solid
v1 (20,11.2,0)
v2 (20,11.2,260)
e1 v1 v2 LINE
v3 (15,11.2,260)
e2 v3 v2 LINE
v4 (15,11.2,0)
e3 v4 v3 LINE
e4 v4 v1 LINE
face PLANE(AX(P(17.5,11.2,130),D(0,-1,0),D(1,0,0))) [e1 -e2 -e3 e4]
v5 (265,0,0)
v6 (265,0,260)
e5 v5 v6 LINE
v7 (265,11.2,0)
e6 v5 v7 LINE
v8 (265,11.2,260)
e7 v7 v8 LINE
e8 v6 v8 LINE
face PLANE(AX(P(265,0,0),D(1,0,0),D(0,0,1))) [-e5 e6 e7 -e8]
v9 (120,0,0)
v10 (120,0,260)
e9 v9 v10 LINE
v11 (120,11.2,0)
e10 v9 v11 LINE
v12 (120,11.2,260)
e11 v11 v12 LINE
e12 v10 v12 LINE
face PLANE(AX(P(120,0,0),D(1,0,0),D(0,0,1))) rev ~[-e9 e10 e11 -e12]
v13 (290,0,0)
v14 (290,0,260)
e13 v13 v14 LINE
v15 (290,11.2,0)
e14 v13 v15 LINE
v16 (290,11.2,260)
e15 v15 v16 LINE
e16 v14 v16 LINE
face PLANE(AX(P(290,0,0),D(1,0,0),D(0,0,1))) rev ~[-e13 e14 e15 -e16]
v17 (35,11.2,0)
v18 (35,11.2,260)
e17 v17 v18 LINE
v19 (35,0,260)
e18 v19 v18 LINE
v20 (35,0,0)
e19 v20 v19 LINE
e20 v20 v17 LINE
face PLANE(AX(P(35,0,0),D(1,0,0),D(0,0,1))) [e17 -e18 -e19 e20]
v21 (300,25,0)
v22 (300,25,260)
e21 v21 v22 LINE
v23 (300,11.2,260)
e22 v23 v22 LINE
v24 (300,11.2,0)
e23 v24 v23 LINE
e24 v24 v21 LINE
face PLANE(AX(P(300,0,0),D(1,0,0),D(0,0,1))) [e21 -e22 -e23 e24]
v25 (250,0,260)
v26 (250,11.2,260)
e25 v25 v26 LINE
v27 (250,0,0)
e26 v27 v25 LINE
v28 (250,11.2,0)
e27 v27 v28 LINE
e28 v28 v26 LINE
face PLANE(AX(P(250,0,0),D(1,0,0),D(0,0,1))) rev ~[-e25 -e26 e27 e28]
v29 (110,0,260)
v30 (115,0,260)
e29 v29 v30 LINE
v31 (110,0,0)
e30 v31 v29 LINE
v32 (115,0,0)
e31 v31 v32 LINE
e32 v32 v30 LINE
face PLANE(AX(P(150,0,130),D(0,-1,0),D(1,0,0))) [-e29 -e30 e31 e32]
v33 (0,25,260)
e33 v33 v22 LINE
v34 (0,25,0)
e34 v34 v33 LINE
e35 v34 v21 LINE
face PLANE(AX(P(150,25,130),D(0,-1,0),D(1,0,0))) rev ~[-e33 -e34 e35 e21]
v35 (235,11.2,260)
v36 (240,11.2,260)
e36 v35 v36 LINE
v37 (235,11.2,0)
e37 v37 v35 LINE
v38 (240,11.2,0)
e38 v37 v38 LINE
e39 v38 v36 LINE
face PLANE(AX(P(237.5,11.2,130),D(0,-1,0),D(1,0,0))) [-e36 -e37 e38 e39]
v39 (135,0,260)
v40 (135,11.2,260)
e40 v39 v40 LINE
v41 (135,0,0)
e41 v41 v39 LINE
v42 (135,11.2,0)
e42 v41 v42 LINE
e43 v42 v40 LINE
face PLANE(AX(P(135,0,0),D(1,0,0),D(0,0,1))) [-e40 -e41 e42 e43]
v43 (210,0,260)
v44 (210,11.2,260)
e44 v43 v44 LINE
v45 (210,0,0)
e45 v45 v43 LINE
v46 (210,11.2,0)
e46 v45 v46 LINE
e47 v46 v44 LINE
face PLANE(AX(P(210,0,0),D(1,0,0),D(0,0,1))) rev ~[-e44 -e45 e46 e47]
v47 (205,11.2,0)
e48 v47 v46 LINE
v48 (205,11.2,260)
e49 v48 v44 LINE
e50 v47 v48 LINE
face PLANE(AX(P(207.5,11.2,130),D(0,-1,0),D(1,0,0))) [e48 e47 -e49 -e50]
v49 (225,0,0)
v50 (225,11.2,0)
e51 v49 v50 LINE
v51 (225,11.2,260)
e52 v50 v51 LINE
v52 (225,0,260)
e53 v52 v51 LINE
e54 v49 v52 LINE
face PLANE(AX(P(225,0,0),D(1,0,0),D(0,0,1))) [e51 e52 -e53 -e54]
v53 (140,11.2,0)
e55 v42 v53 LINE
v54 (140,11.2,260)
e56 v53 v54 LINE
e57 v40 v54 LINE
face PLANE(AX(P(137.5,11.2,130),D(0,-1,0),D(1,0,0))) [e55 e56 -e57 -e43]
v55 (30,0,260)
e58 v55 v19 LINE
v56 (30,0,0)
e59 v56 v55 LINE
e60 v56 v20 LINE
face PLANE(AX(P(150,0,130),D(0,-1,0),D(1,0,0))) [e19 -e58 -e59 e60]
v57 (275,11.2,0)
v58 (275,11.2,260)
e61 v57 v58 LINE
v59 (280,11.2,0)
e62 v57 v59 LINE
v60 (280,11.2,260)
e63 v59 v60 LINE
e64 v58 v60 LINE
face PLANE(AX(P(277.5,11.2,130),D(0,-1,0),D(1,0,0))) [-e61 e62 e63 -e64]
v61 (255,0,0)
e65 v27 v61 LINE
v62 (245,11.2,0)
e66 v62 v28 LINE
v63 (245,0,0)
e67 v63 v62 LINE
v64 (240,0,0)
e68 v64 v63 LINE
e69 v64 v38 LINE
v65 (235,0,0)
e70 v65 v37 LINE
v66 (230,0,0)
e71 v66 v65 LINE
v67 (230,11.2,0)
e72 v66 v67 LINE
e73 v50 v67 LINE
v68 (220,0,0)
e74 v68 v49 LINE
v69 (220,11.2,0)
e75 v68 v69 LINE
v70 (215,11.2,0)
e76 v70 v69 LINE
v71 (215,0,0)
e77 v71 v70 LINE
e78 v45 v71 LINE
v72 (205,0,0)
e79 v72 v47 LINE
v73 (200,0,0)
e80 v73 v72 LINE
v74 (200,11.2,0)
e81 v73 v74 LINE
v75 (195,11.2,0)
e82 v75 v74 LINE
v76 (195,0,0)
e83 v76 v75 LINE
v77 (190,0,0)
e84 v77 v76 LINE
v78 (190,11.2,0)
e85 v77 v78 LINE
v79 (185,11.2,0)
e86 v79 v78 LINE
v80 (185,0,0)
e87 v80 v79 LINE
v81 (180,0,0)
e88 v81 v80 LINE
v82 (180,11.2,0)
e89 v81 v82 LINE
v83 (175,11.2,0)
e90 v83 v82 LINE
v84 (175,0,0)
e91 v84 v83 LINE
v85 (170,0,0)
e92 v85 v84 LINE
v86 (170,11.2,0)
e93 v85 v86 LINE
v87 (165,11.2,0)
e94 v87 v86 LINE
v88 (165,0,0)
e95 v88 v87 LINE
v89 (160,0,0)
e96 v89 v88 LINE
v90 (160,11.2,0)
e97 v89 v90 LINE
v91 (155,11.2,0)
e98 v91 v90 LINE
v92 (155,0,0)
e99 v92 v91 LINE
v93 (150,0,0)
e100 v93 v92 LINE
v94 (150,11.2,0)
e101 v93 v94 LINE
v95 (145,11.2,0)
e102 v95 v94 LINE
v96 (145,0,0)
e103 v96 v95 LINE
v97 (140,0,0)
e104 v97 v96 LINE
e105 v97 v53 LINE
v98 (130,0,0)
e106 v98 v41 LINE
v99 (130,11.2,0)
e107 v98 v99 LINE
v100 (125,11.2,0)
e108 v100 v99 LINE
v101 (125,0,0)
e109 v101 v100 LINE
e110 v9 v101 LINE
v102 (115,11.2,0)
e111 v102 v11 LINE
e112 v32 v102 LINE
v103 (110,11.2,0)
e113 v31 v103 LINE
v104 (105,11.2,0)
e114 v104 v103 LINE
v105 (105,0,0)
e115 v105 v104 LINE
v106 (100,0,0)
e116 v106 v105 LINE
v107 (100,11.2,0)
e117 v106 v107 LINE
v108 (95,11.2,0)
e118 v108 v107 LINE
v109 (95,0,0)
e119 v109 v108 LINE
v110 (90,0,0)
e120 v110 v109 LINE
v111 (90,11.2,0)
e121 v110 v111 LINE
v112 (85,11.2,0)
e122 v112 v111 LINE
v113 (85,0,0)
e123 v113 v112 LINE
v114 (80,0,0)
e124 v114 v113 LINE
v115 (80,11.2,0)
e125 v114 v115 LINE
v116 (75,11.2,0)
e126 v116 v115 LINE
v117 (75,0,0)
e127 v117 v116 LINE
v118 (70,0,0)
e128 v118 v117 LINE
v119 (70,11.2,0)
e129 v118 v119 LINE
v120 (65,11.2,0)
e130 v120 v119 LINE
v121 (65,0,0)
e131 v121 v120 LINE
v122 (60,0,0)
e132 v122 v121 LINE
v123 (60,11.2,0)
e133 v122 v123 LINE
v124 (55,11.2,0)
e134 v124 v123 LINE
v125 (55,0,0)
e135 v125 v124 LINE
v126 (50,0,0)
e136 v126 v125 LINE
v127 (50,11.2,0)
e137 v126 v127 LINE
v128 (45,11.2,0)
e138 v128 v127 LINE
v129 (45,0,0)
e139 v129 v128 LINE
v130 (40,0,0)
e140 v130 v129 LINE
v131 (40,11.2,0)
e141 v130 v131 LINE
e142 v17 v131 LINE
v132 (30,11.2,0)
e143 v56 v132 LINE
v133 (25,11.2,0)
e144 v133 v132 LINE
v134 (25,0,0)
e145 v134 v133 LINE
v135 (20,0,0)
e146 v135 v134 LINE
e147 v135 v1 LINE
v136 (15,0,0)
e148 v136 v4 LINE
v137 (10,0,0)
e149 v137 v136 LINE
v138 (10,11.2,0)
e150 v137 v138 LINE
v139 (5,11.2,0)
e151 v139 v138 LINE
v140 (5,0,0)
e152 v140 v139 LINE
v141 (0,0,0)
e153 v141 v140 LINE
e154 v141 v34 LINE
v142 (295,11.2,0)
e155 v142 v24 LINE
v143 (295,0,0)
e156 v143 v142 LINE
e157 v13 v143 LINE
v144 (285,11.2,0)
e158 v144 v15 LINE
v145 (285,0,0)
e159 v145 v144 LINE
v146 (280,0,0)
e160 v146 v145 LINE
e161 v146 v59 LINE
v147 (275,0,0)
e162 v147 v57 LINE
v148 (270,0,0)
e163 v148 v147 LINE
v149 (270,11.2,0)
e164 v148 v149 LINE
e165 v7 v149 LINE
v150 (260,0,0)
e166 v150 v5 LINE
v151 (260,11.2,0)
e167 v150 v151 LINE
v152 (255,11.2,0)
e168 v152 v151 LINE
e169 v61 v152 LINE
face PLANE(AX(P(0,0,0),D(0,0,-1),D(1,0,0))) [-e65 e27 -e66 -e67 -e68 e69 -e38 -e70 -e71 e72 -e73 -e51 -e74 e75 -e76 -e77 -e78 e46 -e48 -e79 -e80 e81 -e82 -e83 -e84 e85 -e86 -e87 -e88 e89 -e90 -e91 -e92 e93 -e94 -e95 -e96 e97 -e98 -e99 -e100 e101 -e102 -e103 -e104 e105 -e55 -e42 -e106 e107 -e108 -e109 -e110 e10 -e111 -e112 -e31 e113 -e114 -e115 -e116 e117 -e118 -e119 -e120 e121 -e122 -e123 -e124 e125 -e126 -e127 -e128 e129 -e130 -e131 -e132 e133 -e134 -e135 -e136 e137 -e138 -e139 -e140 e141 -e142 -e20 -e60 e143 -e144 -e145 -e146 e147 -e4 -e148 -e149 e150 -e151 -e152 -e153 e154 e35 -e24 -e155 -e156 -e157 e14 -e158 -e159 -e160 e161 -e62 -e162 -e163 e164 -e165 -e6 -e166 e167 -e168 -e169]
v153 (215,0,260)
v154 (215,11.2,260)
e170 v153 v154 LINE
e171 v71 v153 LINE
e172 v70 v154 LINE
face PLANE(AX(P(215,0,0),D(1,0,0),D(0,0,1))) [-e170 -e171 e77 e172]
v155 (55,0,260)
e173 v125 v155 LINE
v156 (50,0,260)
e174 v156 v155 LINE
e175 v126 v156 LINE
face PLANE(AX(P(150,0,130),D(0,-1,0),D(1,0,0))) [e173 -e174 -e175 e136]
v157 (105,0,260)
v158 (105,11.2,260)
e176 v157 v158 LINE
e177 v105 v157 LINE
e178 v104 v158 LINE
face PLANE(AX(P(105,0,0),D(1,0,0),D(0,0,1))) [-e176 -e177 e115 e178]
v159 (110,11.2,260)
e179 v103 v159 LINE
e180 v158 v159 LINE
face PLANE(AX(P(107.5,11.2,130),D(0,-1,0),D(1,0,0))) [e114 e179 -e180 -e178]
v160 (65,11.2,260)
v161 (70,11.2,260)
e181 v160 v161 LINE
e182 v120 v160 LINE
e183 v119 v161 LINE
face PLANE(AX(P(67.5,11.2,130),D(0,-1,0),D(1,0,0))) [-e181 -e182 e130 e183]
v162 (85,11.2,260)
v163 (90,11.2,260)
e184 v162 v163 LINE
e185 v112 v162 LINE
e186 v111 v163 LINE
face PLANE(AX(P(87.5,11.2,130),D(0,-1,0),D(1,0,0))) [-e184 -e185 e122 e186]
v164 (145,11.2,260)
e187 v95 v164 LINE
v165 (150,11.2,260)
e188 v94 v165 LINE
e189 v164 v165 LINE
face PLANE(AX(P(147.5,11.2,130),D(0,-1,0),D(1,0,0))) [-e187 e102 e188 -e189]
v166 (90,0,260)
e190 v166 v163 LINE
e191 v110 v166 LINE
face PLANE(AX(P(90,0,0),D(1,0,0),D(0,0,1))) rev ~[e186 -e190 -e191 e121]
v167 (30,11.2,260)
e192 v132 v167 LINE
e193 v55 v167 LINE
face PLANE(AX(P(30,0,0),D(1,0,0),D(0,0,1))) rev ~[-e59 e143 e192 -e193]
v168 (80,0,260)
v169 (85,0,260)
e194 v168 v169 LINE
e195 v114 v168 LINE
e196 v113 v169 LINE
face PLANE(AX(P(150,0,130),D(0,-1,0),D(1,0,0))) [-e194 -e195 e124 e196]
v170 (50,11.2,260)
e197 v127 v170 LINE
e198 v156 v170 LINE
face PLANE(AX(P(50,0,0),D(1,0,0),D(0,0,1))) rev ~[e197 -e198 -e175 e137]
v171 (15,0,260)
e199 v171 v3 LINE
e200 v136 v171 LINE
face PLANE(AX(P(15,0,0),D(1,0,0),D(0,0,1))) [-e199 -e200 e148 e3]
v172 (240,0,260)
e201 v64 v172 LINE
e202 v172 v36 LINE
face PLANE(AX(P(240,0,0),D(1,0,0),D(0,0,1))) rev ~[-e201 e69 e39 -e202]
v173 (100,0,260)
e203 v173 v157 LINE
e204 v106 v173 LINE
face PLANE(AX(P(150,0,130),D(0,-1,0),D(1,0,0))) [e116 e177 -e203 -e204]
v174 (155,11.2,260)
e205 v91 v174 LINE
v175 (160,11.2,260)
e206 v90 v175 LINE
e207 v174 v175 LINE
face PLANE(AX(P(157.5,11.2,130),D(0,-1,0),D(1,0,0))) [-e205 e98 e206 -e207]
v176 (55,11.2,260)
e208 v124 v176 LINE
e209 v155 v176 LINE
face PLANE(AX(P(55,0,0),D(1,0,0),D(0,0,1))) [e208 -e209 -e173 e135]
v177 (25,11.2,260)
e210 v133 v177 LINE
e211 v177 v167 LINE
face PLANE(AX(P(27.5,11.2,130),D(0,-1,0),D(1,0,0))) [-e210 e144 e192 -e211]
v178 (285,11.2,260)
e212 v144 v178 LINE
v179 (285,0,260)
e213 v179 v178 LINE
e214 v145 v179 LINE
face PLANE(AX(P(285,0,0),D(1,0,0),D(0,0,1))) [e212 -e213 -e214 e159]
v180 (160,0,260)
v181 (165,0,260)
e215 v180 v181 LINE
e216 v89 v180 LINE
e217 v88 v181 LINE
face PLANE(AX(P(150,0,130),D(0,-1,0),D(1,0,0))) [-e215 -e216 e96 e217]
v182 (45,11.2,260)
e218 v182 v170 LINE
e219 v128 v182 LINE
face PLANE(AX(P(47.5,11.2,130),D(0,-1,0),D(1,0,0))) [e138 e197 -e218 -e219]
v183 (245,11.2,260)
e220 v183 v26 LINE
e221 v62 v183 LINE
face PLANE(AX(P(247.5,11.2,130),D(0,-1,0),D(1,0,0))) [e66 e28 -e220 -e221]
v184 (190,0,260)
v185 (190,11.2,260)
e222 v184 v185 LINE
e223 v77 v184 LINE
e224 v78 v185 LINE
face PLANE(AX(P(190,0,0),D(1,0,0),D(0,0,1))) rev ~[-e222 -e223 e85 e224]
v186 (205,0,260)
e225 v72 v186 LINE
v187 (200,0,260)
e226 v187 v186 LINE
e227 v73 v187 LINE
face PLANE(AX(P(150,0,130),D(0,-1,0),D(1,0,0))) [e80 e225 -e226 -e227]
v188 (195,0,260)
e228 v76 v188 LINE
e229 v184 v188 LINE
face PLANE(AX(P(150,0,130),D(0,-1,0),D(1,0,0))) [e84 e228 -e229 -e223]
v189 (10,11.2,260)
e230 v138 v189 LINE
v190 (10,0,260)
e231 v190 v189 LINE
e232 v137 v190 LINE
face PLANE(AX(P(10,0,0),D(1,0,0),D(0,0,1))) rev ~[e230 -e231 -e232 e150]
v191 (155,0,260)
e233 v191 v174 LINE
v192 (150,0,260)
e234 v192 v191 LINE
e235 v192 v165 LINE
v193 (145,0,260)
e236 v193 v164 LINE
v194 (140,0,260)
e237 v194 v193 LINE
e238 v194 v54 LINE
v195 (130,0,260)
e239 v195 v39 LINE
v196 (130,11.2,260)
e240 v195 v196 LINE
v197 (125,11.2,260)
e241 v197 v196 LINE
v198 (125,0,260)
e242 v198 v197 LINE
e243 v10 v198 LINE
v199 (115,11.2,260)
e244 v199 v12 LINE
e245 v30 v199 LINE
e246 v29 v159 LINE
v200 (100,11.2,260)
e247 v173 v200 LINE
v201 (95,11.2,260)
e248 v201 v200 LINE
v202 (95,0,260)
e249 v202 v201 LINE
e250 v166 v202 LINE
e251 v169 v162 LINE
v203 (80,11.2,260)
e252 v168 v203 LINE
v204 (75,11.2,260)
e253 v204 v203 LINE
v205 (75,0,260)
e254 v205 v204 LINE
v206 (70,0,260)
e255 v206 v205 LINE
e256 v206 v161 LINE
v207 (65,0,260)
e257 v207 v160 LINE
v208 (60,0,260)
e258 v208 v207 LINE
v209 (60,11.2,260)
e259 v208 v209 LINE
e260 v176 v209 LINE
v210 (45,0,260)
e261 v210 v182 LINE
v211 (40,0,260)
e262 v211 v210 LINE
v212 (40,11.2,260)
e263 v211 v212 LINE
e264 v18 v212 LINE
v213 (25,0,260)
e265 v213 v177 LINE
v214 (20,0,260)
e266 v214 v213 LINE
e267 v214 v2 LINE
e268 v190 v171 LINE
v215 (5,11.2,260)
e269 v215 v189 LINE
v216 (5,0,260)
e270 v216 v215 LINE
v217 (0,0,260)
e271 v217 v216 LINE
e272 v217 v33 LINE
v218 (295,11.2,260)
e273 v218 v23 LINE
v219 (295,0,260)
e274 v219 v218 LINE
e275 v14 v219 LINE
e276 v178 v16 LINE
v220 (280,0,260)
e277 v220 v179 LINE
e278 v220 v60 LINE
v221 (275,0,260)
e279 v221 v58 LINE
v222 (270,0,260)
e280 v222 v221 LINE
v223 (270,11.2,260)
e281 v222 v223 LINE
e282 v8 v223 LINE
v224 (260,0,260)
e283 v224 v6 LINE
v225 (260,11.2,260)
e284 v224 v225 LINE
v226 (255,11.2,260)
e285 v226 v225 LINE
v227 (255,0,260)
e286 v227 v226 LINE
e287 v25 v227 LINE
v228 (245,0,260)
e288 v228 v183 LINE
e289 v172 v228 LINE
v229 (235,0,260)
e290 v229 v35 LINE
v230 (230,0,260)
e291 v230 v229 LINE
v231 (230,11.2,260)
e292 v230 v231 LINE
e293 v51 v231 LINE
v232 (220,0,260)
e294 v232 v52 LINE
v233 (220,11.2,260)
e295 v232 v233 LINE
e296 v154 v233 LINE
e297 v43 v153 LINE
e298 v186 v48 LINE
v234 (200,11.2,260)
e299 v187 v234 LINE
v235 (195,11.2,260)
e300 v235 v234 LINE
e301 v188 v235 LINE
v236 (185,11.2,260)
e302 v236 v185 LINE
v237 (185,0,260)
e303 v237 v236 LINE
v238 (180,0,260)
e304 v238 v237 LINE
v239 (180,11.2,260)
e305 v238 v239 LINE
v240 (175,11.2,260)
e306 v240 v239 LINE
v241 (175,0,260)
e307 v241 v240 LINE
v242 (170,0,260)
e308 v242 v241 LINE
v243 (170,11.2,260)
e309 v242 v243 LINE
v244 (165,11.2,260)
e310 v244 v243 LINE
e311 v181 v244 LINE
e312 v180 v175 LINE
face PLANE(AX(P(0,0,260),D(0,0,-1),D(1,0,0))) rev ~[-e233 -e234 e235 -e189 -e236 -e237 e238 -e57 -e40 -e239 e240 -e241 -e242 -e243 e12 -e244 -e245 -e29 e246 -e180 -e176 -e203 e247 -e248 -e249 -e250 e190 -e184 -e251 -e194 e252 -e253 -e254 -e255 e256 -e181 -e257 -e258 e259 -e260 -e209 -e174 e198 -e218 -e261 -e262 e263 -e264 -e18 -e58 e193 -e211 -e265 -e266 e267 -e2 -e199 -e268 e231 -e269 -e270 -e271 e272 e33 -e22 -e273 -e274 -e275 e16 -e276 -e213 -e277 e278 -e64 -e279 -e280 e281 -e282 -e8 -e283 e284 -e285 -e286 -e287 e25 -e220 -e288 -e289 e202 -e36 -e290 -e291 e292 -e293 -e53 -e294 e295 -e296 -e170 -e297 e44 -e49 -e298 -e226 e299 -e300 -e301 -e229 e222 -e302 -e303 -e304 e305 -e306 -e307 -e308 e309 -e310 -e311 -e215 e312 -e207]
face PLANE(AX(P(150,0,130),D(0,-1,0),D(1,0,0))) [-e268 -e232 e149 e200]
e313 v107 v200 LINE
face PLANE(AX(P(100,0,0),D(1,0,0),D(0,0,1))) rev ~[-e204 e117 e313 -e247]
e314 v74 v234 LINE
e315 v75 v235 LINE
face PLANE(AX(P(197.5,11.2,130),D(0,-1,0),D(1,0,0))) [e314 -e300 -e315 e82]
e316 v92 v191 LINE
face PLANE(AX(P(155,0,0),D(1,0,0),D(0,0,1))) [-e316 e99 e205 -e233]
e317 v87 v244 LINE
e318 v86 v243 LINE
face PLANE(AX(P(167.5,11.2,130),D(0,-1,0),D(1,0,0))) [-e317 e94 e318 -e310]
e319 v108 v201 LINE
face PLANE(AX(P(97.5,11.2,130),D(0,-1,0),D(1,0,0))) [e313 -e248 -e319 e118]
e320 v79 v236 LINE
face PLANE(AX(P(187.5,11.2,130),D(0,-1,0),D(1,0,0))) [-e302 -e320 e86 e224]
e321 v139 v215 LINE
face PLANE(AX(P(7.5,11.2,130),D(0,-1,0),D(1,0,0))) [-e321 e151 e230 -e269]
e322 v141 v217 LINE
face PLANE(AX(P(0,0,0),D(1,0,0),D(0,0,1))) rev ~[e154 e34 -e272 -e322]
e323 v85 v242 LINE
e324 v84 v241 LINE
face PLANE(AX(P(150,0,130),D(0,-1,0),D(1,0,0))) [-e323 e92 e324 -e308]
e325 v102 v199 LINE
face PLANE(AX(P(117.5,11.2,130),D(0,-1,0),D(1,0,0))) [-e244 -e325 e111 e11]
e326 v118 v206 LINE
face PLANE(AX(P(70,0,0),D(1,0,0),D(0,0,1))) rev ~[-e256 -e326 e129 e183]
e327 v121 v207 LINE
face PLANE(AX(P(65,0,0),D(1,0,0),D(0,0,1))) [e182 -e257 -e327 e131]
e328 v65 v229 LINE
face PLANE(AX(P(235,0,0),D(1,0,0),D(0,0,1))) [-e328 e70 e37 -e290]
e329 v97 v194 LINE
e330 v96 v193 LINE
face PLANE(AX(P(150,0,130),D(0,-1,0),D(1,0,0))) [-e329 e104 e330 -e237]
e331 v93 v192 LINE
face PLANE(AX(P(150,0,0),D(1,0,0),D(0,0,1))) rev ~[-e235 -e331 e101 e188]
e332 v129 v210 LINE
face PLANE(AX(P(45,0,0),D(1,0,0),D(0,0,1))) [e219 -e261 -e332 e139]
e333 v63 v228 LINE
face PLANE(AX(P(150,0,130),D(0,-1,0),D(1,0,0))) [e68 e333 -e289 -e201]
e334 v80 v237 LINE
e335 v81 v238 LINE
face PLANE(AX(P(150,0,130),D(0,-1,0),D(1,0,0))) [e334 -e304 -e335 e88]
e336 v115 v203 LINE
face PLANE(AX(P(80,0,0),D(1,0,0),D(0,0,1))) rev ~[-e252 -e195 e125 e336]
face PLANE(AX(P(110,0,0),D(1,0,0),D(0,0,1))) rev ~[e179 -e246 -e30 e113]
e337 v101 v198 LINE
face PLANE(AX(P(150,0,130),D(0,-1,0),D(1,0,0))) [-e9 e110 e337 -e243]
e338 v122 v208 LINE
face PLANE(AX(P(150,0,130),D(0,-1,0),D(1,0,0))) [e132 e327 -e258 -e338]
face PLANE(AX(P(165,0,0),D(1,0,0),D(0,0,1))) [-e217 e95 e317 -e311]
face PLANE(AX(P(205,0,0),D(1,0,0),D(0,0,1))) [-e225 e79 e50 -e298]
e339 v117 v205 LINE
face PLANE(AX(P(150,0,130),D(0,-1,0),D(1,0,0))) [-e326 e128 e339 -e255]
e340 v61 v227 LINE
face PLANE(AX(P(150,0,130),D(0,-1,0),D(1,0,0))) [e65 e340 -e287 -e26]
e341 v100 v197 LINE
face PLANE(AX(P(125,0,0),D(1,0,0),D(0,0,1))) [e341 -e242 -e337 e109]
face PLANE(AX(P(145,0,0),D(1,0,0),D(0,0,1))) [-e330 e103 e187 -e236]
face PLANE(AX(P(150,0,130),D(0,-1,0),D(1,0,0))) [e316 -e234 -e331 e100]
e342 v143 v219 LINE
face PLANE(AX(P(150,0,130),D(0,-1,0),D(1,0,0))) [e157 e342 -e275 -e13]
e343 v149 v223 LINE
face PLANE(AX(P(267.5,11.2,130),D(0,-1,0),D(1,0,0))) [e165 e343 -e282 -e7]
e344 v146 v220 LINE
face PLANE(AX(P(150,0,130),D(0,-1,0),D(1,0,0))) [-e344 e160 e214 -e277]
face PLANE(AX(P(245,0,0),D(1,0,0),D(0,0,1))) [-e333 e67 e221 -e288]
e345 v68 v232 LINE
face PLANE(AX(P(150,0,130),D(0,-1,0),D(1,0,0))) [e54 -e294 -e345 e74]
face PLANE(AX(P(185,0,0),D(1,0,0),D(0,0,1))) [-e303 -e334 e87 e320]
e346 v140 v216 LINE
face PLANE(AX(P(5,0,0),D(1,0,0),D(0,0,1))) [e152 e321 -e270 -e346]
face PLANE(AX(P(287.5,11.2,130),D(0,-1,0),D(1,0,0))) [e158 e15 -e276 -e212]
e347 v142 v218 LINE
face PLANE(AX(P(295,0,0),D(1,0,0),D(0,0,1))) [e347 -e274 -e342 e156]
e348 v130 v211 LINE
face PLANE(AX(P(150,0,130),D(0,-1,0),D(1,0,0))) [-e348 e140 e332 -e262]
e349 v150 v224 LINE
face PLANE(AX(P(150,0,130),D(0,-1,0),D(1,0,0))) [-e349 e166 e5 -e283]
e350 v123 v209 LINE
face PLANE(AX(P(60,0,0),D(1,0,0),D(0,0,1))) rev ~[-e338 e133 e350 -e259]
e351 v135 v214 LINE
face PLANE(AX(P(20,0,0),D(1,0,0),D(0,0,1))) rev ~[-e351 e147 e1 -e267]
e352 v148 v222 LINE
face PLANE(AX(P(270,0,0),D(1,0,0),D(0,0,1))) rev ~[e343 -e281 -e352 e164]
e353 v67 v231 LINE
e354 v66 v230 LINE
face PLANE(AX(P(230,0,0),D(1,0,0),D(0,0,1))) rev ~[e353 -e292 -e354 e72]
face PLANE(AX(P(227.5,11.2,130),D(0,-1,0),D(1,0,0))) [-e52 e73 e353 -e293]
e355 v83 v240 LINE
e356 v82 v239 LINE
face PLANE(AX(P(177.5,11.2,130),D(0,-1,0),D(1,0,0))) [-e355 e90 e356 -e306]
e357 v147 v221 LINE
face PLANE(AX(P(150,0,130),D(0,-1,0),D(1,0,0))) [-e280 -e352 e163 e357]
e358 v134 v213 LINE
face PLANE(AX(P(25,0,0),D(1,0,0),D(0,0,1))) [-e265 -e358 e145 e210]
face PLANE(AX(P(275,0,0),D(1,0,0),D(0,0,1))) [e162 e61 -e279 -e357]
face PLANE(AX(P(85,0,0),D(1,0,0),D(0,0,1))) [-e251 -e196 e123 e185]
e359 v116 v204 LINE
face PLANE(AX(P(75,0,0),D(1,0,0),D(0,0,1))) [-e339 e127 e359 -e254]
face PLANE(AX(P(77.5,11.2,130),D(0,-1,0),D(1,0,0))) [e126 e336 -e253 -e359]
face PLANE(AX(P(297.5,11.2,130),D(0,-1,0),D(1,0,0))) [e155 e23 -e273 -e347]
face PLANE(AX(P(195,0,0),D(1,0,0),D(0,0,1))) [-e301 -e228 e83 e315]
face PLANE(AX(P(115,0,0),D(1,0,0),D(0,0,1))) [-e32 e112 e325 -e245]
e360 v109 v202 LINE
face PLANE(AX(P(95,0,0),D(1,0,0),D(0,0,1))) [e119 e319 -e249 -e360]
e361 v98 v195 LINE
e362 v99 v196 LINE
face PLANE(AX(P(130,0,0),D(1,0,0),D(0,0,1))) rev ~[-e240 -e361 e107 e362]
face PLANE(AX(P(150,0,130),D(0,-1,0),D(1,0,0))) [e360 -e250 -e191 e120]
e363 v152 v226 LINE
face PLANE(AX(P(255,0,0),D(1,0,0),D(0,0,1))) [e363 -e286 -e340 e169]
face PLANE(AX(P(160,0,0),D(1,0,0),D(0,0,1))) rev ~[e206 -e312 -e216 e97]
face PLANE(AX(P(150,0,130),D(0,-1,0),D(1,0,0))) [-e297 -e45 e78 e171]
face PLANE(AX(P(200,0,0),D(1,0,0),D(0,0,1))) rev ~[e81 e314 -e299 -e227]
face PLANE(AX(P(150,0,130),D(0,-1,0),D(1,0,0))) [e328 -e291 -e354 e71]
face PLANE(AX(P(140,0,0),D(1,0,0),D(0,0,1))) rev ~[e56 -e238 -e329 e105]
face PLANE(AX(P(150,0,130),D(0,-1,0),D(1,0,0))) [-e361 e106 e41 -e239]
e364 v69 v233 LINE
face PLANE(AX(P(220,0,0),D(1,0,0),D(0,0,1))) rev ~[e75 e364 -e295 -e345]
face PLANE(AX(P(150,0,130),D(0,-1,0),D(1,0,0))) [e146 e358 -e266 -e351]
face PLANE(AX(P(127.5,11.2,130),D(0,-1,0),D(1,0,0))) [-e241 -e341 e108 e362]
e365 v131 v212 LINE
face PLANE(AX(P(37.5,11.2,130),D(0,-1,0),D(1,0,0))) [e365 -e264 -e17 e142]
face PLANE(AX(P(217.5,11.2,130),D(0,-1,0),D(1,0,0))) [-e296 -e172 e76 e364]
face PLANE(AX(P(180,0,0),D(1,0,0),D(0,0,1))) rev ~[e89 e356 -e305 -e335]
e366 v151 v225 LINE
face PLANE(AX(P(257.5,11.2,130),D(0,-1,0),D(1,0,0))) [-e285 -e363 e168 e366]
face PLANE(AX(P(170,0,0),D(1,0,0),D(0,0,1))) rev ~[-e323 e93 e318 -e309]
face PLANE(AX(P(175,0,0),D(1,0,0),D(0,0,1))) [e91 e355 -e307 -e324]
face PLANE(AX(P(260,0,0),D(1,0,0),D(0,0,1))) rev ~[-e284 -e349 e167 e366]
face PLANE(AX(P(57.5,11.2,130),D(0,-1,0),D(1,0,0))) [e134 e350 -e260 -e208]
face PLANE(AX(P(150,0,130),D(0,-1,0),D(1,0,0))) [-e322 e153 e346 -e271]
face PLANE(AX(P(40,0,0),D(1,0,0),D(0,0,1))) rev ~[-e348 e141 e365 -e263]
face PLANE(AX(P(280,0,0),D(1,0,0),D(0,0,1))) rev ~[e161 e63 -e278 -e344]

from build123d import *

# Parameters (mm, degrees)
F0_W     = 300
F0_H     = 260
F1_DEPTH = 25
F2_W     = 5
F2_H     = 260
F3_DEPTH = 11.2


with BuildPart() as f1:
    # F0 (on Front) → F1 (new body)
    with BuildSketch(Plane.XZ):
        with Locations((150, 130)):
            Rectangle(F0_W, F0_H)
    extrude(amount=-F1_DEPTH)

    # F2 (on face) → F3 (cut)
    with BuildSketch(Plane.XZ):
        with Locations((7.5, 130)):
            Rectangle(F2_W, F2_H)
        with Locations((17.5, 130)):
            Rectangle(F2_W, F2_H)
        with Locations((27.5, 130)):
            Rectangle(F2_W, F2_H)
        with Locations((37.5, 130)):
            Rectangle(F2_W, F2_H)
        with Locations((47.5, 130)):
            Rectangle(F2_W, F2_H)
        with Locations((57.5, 130)):
            Rectangle(F2_W, F2_H)
        with Locations((67.5, 130)):
            Rectangle(F2_W, F2_H)
        with Locations((77.5, 130)):
            Rectangle(F2_W, F2_H)
        with Locations((87.5, 130)):
            Rectangle(F2_W, F2_H)
        with Locations((97.5, 130)):
            Rectangle(F2_W, F2_H)
        with Locations((107.5, 130)):
            Rectangle(F2_W, F2_H)
        with Locations((117.5, 130)):
            Rectangle(F2_W, F2_H)
        with Locations((127.5, 130)):
            Rectangle(F2_W, F2_H)
        with Locations((137.5, 130)):
            Rectangle(F2_W, F2_H)
        with Locations((147.5, 130)):
            Rectangle(F2_W, F2_H)
        with Locations((157.5, 130)):
            Rectangle(F2_W, F2_H)
        with Locations((167.5, 130)):
            Rectangle(F2_W, F2_H)
        with Locations((177.5, 130)):
            Rectangle(F2_W, F2_H)
        with Locations((187.5, 130)):
            Rectangle(F2_W, F2_H)
        with Locations((197.5, 130)):
            Rectangle(F2_W, F2_H)
        with Locations((207.5, 130)):
            Rectangle(F2_W, F2_H)
        with Locations((217.5, 130)):
            Rectangle(F2_W, F2_H)
        with Locations((227.5, 130)):
            Rectangle(F2_W, F2_H)
        with Locations((237.5, 130)):
            Rectangle(F2_W, F2_H)
        with Locations((247.5, 130)):
            Rectangle(F2_W, F2_H)
        with Locations((257.5, 130)):
            Rectangle(F2_W, F2_H)
        with Locations((267.5, 130)):
            Rectangle(F2_W, F2_H)
        with Locations((277.5, 130)):
            Rectangle(F2_W, F2_H)
        with Locations((287.5, 130)):
            Rectangle(F2_W, F2_H)
        with Locations((297.5, 130)):
            Rectangle(F2_W, F2_H)
        with Locations((307.5, 130)):
            Rectangle(F2_W, F2_H)
        with Locations((317.5, 130)):
            Rectangle(F2_W, F2_H)
        with Locations((327.5, 130)):
            Rectangle(F2_W, F2_H)
        with Locations((337.5, 130)):
            Rectangle(F2_W, F2_H)
        with Locations((347.5, 130)):
            Rectangle(F2_W, F2_H)
        with Locations((357.5, 130)):
            Rectangle(F2_W, F2_H)
        with Locations((367.5, 130)):
            Rectangle(F2_W, F2_H)
        with Locations((377.5, 130)):
            Rectangle(F2_W, F2_H)
        with Locations((387.5, 130)):
            Rectangle(F2_W, F2_H)
        with Locations((397.5, 130)):
            Rectangle(F2_W, F2_H)
        with Locations((407.5, 130)):
            Rectangle(F2_W, F2_H)
        with Locations((417.5, 130)):
            Rectangle(F2_W, F2_H)
        with Locations((427.5, 130)):
            Rectangle(F2_W, F2_H)
        with Locations((437.5, 130)):
            Rectangle(F2_W, F2_H)
        with Locations((447.5, 130)):
            Rectangle(F2_W, F2_H)
        with Locations((457.5, 130)):
            Rectangle(F2_W, F2_H)
        with Locations((467.5, 130)):
            Rectangle(F2_W, F2_H)
        with Locations((477.5, 130)):
            Rectangle(F2_W, F2_H)
        with Locations((487.5, 130)):
            Rectangle(F2_W, F2_H)
        with Locations((497.5, 130)):
            Rectangle(F2_W, F2_H)
    extrude(amount=-F3_DEPTH, mode=Mode.SUBTRACT)


solid = f1.part
